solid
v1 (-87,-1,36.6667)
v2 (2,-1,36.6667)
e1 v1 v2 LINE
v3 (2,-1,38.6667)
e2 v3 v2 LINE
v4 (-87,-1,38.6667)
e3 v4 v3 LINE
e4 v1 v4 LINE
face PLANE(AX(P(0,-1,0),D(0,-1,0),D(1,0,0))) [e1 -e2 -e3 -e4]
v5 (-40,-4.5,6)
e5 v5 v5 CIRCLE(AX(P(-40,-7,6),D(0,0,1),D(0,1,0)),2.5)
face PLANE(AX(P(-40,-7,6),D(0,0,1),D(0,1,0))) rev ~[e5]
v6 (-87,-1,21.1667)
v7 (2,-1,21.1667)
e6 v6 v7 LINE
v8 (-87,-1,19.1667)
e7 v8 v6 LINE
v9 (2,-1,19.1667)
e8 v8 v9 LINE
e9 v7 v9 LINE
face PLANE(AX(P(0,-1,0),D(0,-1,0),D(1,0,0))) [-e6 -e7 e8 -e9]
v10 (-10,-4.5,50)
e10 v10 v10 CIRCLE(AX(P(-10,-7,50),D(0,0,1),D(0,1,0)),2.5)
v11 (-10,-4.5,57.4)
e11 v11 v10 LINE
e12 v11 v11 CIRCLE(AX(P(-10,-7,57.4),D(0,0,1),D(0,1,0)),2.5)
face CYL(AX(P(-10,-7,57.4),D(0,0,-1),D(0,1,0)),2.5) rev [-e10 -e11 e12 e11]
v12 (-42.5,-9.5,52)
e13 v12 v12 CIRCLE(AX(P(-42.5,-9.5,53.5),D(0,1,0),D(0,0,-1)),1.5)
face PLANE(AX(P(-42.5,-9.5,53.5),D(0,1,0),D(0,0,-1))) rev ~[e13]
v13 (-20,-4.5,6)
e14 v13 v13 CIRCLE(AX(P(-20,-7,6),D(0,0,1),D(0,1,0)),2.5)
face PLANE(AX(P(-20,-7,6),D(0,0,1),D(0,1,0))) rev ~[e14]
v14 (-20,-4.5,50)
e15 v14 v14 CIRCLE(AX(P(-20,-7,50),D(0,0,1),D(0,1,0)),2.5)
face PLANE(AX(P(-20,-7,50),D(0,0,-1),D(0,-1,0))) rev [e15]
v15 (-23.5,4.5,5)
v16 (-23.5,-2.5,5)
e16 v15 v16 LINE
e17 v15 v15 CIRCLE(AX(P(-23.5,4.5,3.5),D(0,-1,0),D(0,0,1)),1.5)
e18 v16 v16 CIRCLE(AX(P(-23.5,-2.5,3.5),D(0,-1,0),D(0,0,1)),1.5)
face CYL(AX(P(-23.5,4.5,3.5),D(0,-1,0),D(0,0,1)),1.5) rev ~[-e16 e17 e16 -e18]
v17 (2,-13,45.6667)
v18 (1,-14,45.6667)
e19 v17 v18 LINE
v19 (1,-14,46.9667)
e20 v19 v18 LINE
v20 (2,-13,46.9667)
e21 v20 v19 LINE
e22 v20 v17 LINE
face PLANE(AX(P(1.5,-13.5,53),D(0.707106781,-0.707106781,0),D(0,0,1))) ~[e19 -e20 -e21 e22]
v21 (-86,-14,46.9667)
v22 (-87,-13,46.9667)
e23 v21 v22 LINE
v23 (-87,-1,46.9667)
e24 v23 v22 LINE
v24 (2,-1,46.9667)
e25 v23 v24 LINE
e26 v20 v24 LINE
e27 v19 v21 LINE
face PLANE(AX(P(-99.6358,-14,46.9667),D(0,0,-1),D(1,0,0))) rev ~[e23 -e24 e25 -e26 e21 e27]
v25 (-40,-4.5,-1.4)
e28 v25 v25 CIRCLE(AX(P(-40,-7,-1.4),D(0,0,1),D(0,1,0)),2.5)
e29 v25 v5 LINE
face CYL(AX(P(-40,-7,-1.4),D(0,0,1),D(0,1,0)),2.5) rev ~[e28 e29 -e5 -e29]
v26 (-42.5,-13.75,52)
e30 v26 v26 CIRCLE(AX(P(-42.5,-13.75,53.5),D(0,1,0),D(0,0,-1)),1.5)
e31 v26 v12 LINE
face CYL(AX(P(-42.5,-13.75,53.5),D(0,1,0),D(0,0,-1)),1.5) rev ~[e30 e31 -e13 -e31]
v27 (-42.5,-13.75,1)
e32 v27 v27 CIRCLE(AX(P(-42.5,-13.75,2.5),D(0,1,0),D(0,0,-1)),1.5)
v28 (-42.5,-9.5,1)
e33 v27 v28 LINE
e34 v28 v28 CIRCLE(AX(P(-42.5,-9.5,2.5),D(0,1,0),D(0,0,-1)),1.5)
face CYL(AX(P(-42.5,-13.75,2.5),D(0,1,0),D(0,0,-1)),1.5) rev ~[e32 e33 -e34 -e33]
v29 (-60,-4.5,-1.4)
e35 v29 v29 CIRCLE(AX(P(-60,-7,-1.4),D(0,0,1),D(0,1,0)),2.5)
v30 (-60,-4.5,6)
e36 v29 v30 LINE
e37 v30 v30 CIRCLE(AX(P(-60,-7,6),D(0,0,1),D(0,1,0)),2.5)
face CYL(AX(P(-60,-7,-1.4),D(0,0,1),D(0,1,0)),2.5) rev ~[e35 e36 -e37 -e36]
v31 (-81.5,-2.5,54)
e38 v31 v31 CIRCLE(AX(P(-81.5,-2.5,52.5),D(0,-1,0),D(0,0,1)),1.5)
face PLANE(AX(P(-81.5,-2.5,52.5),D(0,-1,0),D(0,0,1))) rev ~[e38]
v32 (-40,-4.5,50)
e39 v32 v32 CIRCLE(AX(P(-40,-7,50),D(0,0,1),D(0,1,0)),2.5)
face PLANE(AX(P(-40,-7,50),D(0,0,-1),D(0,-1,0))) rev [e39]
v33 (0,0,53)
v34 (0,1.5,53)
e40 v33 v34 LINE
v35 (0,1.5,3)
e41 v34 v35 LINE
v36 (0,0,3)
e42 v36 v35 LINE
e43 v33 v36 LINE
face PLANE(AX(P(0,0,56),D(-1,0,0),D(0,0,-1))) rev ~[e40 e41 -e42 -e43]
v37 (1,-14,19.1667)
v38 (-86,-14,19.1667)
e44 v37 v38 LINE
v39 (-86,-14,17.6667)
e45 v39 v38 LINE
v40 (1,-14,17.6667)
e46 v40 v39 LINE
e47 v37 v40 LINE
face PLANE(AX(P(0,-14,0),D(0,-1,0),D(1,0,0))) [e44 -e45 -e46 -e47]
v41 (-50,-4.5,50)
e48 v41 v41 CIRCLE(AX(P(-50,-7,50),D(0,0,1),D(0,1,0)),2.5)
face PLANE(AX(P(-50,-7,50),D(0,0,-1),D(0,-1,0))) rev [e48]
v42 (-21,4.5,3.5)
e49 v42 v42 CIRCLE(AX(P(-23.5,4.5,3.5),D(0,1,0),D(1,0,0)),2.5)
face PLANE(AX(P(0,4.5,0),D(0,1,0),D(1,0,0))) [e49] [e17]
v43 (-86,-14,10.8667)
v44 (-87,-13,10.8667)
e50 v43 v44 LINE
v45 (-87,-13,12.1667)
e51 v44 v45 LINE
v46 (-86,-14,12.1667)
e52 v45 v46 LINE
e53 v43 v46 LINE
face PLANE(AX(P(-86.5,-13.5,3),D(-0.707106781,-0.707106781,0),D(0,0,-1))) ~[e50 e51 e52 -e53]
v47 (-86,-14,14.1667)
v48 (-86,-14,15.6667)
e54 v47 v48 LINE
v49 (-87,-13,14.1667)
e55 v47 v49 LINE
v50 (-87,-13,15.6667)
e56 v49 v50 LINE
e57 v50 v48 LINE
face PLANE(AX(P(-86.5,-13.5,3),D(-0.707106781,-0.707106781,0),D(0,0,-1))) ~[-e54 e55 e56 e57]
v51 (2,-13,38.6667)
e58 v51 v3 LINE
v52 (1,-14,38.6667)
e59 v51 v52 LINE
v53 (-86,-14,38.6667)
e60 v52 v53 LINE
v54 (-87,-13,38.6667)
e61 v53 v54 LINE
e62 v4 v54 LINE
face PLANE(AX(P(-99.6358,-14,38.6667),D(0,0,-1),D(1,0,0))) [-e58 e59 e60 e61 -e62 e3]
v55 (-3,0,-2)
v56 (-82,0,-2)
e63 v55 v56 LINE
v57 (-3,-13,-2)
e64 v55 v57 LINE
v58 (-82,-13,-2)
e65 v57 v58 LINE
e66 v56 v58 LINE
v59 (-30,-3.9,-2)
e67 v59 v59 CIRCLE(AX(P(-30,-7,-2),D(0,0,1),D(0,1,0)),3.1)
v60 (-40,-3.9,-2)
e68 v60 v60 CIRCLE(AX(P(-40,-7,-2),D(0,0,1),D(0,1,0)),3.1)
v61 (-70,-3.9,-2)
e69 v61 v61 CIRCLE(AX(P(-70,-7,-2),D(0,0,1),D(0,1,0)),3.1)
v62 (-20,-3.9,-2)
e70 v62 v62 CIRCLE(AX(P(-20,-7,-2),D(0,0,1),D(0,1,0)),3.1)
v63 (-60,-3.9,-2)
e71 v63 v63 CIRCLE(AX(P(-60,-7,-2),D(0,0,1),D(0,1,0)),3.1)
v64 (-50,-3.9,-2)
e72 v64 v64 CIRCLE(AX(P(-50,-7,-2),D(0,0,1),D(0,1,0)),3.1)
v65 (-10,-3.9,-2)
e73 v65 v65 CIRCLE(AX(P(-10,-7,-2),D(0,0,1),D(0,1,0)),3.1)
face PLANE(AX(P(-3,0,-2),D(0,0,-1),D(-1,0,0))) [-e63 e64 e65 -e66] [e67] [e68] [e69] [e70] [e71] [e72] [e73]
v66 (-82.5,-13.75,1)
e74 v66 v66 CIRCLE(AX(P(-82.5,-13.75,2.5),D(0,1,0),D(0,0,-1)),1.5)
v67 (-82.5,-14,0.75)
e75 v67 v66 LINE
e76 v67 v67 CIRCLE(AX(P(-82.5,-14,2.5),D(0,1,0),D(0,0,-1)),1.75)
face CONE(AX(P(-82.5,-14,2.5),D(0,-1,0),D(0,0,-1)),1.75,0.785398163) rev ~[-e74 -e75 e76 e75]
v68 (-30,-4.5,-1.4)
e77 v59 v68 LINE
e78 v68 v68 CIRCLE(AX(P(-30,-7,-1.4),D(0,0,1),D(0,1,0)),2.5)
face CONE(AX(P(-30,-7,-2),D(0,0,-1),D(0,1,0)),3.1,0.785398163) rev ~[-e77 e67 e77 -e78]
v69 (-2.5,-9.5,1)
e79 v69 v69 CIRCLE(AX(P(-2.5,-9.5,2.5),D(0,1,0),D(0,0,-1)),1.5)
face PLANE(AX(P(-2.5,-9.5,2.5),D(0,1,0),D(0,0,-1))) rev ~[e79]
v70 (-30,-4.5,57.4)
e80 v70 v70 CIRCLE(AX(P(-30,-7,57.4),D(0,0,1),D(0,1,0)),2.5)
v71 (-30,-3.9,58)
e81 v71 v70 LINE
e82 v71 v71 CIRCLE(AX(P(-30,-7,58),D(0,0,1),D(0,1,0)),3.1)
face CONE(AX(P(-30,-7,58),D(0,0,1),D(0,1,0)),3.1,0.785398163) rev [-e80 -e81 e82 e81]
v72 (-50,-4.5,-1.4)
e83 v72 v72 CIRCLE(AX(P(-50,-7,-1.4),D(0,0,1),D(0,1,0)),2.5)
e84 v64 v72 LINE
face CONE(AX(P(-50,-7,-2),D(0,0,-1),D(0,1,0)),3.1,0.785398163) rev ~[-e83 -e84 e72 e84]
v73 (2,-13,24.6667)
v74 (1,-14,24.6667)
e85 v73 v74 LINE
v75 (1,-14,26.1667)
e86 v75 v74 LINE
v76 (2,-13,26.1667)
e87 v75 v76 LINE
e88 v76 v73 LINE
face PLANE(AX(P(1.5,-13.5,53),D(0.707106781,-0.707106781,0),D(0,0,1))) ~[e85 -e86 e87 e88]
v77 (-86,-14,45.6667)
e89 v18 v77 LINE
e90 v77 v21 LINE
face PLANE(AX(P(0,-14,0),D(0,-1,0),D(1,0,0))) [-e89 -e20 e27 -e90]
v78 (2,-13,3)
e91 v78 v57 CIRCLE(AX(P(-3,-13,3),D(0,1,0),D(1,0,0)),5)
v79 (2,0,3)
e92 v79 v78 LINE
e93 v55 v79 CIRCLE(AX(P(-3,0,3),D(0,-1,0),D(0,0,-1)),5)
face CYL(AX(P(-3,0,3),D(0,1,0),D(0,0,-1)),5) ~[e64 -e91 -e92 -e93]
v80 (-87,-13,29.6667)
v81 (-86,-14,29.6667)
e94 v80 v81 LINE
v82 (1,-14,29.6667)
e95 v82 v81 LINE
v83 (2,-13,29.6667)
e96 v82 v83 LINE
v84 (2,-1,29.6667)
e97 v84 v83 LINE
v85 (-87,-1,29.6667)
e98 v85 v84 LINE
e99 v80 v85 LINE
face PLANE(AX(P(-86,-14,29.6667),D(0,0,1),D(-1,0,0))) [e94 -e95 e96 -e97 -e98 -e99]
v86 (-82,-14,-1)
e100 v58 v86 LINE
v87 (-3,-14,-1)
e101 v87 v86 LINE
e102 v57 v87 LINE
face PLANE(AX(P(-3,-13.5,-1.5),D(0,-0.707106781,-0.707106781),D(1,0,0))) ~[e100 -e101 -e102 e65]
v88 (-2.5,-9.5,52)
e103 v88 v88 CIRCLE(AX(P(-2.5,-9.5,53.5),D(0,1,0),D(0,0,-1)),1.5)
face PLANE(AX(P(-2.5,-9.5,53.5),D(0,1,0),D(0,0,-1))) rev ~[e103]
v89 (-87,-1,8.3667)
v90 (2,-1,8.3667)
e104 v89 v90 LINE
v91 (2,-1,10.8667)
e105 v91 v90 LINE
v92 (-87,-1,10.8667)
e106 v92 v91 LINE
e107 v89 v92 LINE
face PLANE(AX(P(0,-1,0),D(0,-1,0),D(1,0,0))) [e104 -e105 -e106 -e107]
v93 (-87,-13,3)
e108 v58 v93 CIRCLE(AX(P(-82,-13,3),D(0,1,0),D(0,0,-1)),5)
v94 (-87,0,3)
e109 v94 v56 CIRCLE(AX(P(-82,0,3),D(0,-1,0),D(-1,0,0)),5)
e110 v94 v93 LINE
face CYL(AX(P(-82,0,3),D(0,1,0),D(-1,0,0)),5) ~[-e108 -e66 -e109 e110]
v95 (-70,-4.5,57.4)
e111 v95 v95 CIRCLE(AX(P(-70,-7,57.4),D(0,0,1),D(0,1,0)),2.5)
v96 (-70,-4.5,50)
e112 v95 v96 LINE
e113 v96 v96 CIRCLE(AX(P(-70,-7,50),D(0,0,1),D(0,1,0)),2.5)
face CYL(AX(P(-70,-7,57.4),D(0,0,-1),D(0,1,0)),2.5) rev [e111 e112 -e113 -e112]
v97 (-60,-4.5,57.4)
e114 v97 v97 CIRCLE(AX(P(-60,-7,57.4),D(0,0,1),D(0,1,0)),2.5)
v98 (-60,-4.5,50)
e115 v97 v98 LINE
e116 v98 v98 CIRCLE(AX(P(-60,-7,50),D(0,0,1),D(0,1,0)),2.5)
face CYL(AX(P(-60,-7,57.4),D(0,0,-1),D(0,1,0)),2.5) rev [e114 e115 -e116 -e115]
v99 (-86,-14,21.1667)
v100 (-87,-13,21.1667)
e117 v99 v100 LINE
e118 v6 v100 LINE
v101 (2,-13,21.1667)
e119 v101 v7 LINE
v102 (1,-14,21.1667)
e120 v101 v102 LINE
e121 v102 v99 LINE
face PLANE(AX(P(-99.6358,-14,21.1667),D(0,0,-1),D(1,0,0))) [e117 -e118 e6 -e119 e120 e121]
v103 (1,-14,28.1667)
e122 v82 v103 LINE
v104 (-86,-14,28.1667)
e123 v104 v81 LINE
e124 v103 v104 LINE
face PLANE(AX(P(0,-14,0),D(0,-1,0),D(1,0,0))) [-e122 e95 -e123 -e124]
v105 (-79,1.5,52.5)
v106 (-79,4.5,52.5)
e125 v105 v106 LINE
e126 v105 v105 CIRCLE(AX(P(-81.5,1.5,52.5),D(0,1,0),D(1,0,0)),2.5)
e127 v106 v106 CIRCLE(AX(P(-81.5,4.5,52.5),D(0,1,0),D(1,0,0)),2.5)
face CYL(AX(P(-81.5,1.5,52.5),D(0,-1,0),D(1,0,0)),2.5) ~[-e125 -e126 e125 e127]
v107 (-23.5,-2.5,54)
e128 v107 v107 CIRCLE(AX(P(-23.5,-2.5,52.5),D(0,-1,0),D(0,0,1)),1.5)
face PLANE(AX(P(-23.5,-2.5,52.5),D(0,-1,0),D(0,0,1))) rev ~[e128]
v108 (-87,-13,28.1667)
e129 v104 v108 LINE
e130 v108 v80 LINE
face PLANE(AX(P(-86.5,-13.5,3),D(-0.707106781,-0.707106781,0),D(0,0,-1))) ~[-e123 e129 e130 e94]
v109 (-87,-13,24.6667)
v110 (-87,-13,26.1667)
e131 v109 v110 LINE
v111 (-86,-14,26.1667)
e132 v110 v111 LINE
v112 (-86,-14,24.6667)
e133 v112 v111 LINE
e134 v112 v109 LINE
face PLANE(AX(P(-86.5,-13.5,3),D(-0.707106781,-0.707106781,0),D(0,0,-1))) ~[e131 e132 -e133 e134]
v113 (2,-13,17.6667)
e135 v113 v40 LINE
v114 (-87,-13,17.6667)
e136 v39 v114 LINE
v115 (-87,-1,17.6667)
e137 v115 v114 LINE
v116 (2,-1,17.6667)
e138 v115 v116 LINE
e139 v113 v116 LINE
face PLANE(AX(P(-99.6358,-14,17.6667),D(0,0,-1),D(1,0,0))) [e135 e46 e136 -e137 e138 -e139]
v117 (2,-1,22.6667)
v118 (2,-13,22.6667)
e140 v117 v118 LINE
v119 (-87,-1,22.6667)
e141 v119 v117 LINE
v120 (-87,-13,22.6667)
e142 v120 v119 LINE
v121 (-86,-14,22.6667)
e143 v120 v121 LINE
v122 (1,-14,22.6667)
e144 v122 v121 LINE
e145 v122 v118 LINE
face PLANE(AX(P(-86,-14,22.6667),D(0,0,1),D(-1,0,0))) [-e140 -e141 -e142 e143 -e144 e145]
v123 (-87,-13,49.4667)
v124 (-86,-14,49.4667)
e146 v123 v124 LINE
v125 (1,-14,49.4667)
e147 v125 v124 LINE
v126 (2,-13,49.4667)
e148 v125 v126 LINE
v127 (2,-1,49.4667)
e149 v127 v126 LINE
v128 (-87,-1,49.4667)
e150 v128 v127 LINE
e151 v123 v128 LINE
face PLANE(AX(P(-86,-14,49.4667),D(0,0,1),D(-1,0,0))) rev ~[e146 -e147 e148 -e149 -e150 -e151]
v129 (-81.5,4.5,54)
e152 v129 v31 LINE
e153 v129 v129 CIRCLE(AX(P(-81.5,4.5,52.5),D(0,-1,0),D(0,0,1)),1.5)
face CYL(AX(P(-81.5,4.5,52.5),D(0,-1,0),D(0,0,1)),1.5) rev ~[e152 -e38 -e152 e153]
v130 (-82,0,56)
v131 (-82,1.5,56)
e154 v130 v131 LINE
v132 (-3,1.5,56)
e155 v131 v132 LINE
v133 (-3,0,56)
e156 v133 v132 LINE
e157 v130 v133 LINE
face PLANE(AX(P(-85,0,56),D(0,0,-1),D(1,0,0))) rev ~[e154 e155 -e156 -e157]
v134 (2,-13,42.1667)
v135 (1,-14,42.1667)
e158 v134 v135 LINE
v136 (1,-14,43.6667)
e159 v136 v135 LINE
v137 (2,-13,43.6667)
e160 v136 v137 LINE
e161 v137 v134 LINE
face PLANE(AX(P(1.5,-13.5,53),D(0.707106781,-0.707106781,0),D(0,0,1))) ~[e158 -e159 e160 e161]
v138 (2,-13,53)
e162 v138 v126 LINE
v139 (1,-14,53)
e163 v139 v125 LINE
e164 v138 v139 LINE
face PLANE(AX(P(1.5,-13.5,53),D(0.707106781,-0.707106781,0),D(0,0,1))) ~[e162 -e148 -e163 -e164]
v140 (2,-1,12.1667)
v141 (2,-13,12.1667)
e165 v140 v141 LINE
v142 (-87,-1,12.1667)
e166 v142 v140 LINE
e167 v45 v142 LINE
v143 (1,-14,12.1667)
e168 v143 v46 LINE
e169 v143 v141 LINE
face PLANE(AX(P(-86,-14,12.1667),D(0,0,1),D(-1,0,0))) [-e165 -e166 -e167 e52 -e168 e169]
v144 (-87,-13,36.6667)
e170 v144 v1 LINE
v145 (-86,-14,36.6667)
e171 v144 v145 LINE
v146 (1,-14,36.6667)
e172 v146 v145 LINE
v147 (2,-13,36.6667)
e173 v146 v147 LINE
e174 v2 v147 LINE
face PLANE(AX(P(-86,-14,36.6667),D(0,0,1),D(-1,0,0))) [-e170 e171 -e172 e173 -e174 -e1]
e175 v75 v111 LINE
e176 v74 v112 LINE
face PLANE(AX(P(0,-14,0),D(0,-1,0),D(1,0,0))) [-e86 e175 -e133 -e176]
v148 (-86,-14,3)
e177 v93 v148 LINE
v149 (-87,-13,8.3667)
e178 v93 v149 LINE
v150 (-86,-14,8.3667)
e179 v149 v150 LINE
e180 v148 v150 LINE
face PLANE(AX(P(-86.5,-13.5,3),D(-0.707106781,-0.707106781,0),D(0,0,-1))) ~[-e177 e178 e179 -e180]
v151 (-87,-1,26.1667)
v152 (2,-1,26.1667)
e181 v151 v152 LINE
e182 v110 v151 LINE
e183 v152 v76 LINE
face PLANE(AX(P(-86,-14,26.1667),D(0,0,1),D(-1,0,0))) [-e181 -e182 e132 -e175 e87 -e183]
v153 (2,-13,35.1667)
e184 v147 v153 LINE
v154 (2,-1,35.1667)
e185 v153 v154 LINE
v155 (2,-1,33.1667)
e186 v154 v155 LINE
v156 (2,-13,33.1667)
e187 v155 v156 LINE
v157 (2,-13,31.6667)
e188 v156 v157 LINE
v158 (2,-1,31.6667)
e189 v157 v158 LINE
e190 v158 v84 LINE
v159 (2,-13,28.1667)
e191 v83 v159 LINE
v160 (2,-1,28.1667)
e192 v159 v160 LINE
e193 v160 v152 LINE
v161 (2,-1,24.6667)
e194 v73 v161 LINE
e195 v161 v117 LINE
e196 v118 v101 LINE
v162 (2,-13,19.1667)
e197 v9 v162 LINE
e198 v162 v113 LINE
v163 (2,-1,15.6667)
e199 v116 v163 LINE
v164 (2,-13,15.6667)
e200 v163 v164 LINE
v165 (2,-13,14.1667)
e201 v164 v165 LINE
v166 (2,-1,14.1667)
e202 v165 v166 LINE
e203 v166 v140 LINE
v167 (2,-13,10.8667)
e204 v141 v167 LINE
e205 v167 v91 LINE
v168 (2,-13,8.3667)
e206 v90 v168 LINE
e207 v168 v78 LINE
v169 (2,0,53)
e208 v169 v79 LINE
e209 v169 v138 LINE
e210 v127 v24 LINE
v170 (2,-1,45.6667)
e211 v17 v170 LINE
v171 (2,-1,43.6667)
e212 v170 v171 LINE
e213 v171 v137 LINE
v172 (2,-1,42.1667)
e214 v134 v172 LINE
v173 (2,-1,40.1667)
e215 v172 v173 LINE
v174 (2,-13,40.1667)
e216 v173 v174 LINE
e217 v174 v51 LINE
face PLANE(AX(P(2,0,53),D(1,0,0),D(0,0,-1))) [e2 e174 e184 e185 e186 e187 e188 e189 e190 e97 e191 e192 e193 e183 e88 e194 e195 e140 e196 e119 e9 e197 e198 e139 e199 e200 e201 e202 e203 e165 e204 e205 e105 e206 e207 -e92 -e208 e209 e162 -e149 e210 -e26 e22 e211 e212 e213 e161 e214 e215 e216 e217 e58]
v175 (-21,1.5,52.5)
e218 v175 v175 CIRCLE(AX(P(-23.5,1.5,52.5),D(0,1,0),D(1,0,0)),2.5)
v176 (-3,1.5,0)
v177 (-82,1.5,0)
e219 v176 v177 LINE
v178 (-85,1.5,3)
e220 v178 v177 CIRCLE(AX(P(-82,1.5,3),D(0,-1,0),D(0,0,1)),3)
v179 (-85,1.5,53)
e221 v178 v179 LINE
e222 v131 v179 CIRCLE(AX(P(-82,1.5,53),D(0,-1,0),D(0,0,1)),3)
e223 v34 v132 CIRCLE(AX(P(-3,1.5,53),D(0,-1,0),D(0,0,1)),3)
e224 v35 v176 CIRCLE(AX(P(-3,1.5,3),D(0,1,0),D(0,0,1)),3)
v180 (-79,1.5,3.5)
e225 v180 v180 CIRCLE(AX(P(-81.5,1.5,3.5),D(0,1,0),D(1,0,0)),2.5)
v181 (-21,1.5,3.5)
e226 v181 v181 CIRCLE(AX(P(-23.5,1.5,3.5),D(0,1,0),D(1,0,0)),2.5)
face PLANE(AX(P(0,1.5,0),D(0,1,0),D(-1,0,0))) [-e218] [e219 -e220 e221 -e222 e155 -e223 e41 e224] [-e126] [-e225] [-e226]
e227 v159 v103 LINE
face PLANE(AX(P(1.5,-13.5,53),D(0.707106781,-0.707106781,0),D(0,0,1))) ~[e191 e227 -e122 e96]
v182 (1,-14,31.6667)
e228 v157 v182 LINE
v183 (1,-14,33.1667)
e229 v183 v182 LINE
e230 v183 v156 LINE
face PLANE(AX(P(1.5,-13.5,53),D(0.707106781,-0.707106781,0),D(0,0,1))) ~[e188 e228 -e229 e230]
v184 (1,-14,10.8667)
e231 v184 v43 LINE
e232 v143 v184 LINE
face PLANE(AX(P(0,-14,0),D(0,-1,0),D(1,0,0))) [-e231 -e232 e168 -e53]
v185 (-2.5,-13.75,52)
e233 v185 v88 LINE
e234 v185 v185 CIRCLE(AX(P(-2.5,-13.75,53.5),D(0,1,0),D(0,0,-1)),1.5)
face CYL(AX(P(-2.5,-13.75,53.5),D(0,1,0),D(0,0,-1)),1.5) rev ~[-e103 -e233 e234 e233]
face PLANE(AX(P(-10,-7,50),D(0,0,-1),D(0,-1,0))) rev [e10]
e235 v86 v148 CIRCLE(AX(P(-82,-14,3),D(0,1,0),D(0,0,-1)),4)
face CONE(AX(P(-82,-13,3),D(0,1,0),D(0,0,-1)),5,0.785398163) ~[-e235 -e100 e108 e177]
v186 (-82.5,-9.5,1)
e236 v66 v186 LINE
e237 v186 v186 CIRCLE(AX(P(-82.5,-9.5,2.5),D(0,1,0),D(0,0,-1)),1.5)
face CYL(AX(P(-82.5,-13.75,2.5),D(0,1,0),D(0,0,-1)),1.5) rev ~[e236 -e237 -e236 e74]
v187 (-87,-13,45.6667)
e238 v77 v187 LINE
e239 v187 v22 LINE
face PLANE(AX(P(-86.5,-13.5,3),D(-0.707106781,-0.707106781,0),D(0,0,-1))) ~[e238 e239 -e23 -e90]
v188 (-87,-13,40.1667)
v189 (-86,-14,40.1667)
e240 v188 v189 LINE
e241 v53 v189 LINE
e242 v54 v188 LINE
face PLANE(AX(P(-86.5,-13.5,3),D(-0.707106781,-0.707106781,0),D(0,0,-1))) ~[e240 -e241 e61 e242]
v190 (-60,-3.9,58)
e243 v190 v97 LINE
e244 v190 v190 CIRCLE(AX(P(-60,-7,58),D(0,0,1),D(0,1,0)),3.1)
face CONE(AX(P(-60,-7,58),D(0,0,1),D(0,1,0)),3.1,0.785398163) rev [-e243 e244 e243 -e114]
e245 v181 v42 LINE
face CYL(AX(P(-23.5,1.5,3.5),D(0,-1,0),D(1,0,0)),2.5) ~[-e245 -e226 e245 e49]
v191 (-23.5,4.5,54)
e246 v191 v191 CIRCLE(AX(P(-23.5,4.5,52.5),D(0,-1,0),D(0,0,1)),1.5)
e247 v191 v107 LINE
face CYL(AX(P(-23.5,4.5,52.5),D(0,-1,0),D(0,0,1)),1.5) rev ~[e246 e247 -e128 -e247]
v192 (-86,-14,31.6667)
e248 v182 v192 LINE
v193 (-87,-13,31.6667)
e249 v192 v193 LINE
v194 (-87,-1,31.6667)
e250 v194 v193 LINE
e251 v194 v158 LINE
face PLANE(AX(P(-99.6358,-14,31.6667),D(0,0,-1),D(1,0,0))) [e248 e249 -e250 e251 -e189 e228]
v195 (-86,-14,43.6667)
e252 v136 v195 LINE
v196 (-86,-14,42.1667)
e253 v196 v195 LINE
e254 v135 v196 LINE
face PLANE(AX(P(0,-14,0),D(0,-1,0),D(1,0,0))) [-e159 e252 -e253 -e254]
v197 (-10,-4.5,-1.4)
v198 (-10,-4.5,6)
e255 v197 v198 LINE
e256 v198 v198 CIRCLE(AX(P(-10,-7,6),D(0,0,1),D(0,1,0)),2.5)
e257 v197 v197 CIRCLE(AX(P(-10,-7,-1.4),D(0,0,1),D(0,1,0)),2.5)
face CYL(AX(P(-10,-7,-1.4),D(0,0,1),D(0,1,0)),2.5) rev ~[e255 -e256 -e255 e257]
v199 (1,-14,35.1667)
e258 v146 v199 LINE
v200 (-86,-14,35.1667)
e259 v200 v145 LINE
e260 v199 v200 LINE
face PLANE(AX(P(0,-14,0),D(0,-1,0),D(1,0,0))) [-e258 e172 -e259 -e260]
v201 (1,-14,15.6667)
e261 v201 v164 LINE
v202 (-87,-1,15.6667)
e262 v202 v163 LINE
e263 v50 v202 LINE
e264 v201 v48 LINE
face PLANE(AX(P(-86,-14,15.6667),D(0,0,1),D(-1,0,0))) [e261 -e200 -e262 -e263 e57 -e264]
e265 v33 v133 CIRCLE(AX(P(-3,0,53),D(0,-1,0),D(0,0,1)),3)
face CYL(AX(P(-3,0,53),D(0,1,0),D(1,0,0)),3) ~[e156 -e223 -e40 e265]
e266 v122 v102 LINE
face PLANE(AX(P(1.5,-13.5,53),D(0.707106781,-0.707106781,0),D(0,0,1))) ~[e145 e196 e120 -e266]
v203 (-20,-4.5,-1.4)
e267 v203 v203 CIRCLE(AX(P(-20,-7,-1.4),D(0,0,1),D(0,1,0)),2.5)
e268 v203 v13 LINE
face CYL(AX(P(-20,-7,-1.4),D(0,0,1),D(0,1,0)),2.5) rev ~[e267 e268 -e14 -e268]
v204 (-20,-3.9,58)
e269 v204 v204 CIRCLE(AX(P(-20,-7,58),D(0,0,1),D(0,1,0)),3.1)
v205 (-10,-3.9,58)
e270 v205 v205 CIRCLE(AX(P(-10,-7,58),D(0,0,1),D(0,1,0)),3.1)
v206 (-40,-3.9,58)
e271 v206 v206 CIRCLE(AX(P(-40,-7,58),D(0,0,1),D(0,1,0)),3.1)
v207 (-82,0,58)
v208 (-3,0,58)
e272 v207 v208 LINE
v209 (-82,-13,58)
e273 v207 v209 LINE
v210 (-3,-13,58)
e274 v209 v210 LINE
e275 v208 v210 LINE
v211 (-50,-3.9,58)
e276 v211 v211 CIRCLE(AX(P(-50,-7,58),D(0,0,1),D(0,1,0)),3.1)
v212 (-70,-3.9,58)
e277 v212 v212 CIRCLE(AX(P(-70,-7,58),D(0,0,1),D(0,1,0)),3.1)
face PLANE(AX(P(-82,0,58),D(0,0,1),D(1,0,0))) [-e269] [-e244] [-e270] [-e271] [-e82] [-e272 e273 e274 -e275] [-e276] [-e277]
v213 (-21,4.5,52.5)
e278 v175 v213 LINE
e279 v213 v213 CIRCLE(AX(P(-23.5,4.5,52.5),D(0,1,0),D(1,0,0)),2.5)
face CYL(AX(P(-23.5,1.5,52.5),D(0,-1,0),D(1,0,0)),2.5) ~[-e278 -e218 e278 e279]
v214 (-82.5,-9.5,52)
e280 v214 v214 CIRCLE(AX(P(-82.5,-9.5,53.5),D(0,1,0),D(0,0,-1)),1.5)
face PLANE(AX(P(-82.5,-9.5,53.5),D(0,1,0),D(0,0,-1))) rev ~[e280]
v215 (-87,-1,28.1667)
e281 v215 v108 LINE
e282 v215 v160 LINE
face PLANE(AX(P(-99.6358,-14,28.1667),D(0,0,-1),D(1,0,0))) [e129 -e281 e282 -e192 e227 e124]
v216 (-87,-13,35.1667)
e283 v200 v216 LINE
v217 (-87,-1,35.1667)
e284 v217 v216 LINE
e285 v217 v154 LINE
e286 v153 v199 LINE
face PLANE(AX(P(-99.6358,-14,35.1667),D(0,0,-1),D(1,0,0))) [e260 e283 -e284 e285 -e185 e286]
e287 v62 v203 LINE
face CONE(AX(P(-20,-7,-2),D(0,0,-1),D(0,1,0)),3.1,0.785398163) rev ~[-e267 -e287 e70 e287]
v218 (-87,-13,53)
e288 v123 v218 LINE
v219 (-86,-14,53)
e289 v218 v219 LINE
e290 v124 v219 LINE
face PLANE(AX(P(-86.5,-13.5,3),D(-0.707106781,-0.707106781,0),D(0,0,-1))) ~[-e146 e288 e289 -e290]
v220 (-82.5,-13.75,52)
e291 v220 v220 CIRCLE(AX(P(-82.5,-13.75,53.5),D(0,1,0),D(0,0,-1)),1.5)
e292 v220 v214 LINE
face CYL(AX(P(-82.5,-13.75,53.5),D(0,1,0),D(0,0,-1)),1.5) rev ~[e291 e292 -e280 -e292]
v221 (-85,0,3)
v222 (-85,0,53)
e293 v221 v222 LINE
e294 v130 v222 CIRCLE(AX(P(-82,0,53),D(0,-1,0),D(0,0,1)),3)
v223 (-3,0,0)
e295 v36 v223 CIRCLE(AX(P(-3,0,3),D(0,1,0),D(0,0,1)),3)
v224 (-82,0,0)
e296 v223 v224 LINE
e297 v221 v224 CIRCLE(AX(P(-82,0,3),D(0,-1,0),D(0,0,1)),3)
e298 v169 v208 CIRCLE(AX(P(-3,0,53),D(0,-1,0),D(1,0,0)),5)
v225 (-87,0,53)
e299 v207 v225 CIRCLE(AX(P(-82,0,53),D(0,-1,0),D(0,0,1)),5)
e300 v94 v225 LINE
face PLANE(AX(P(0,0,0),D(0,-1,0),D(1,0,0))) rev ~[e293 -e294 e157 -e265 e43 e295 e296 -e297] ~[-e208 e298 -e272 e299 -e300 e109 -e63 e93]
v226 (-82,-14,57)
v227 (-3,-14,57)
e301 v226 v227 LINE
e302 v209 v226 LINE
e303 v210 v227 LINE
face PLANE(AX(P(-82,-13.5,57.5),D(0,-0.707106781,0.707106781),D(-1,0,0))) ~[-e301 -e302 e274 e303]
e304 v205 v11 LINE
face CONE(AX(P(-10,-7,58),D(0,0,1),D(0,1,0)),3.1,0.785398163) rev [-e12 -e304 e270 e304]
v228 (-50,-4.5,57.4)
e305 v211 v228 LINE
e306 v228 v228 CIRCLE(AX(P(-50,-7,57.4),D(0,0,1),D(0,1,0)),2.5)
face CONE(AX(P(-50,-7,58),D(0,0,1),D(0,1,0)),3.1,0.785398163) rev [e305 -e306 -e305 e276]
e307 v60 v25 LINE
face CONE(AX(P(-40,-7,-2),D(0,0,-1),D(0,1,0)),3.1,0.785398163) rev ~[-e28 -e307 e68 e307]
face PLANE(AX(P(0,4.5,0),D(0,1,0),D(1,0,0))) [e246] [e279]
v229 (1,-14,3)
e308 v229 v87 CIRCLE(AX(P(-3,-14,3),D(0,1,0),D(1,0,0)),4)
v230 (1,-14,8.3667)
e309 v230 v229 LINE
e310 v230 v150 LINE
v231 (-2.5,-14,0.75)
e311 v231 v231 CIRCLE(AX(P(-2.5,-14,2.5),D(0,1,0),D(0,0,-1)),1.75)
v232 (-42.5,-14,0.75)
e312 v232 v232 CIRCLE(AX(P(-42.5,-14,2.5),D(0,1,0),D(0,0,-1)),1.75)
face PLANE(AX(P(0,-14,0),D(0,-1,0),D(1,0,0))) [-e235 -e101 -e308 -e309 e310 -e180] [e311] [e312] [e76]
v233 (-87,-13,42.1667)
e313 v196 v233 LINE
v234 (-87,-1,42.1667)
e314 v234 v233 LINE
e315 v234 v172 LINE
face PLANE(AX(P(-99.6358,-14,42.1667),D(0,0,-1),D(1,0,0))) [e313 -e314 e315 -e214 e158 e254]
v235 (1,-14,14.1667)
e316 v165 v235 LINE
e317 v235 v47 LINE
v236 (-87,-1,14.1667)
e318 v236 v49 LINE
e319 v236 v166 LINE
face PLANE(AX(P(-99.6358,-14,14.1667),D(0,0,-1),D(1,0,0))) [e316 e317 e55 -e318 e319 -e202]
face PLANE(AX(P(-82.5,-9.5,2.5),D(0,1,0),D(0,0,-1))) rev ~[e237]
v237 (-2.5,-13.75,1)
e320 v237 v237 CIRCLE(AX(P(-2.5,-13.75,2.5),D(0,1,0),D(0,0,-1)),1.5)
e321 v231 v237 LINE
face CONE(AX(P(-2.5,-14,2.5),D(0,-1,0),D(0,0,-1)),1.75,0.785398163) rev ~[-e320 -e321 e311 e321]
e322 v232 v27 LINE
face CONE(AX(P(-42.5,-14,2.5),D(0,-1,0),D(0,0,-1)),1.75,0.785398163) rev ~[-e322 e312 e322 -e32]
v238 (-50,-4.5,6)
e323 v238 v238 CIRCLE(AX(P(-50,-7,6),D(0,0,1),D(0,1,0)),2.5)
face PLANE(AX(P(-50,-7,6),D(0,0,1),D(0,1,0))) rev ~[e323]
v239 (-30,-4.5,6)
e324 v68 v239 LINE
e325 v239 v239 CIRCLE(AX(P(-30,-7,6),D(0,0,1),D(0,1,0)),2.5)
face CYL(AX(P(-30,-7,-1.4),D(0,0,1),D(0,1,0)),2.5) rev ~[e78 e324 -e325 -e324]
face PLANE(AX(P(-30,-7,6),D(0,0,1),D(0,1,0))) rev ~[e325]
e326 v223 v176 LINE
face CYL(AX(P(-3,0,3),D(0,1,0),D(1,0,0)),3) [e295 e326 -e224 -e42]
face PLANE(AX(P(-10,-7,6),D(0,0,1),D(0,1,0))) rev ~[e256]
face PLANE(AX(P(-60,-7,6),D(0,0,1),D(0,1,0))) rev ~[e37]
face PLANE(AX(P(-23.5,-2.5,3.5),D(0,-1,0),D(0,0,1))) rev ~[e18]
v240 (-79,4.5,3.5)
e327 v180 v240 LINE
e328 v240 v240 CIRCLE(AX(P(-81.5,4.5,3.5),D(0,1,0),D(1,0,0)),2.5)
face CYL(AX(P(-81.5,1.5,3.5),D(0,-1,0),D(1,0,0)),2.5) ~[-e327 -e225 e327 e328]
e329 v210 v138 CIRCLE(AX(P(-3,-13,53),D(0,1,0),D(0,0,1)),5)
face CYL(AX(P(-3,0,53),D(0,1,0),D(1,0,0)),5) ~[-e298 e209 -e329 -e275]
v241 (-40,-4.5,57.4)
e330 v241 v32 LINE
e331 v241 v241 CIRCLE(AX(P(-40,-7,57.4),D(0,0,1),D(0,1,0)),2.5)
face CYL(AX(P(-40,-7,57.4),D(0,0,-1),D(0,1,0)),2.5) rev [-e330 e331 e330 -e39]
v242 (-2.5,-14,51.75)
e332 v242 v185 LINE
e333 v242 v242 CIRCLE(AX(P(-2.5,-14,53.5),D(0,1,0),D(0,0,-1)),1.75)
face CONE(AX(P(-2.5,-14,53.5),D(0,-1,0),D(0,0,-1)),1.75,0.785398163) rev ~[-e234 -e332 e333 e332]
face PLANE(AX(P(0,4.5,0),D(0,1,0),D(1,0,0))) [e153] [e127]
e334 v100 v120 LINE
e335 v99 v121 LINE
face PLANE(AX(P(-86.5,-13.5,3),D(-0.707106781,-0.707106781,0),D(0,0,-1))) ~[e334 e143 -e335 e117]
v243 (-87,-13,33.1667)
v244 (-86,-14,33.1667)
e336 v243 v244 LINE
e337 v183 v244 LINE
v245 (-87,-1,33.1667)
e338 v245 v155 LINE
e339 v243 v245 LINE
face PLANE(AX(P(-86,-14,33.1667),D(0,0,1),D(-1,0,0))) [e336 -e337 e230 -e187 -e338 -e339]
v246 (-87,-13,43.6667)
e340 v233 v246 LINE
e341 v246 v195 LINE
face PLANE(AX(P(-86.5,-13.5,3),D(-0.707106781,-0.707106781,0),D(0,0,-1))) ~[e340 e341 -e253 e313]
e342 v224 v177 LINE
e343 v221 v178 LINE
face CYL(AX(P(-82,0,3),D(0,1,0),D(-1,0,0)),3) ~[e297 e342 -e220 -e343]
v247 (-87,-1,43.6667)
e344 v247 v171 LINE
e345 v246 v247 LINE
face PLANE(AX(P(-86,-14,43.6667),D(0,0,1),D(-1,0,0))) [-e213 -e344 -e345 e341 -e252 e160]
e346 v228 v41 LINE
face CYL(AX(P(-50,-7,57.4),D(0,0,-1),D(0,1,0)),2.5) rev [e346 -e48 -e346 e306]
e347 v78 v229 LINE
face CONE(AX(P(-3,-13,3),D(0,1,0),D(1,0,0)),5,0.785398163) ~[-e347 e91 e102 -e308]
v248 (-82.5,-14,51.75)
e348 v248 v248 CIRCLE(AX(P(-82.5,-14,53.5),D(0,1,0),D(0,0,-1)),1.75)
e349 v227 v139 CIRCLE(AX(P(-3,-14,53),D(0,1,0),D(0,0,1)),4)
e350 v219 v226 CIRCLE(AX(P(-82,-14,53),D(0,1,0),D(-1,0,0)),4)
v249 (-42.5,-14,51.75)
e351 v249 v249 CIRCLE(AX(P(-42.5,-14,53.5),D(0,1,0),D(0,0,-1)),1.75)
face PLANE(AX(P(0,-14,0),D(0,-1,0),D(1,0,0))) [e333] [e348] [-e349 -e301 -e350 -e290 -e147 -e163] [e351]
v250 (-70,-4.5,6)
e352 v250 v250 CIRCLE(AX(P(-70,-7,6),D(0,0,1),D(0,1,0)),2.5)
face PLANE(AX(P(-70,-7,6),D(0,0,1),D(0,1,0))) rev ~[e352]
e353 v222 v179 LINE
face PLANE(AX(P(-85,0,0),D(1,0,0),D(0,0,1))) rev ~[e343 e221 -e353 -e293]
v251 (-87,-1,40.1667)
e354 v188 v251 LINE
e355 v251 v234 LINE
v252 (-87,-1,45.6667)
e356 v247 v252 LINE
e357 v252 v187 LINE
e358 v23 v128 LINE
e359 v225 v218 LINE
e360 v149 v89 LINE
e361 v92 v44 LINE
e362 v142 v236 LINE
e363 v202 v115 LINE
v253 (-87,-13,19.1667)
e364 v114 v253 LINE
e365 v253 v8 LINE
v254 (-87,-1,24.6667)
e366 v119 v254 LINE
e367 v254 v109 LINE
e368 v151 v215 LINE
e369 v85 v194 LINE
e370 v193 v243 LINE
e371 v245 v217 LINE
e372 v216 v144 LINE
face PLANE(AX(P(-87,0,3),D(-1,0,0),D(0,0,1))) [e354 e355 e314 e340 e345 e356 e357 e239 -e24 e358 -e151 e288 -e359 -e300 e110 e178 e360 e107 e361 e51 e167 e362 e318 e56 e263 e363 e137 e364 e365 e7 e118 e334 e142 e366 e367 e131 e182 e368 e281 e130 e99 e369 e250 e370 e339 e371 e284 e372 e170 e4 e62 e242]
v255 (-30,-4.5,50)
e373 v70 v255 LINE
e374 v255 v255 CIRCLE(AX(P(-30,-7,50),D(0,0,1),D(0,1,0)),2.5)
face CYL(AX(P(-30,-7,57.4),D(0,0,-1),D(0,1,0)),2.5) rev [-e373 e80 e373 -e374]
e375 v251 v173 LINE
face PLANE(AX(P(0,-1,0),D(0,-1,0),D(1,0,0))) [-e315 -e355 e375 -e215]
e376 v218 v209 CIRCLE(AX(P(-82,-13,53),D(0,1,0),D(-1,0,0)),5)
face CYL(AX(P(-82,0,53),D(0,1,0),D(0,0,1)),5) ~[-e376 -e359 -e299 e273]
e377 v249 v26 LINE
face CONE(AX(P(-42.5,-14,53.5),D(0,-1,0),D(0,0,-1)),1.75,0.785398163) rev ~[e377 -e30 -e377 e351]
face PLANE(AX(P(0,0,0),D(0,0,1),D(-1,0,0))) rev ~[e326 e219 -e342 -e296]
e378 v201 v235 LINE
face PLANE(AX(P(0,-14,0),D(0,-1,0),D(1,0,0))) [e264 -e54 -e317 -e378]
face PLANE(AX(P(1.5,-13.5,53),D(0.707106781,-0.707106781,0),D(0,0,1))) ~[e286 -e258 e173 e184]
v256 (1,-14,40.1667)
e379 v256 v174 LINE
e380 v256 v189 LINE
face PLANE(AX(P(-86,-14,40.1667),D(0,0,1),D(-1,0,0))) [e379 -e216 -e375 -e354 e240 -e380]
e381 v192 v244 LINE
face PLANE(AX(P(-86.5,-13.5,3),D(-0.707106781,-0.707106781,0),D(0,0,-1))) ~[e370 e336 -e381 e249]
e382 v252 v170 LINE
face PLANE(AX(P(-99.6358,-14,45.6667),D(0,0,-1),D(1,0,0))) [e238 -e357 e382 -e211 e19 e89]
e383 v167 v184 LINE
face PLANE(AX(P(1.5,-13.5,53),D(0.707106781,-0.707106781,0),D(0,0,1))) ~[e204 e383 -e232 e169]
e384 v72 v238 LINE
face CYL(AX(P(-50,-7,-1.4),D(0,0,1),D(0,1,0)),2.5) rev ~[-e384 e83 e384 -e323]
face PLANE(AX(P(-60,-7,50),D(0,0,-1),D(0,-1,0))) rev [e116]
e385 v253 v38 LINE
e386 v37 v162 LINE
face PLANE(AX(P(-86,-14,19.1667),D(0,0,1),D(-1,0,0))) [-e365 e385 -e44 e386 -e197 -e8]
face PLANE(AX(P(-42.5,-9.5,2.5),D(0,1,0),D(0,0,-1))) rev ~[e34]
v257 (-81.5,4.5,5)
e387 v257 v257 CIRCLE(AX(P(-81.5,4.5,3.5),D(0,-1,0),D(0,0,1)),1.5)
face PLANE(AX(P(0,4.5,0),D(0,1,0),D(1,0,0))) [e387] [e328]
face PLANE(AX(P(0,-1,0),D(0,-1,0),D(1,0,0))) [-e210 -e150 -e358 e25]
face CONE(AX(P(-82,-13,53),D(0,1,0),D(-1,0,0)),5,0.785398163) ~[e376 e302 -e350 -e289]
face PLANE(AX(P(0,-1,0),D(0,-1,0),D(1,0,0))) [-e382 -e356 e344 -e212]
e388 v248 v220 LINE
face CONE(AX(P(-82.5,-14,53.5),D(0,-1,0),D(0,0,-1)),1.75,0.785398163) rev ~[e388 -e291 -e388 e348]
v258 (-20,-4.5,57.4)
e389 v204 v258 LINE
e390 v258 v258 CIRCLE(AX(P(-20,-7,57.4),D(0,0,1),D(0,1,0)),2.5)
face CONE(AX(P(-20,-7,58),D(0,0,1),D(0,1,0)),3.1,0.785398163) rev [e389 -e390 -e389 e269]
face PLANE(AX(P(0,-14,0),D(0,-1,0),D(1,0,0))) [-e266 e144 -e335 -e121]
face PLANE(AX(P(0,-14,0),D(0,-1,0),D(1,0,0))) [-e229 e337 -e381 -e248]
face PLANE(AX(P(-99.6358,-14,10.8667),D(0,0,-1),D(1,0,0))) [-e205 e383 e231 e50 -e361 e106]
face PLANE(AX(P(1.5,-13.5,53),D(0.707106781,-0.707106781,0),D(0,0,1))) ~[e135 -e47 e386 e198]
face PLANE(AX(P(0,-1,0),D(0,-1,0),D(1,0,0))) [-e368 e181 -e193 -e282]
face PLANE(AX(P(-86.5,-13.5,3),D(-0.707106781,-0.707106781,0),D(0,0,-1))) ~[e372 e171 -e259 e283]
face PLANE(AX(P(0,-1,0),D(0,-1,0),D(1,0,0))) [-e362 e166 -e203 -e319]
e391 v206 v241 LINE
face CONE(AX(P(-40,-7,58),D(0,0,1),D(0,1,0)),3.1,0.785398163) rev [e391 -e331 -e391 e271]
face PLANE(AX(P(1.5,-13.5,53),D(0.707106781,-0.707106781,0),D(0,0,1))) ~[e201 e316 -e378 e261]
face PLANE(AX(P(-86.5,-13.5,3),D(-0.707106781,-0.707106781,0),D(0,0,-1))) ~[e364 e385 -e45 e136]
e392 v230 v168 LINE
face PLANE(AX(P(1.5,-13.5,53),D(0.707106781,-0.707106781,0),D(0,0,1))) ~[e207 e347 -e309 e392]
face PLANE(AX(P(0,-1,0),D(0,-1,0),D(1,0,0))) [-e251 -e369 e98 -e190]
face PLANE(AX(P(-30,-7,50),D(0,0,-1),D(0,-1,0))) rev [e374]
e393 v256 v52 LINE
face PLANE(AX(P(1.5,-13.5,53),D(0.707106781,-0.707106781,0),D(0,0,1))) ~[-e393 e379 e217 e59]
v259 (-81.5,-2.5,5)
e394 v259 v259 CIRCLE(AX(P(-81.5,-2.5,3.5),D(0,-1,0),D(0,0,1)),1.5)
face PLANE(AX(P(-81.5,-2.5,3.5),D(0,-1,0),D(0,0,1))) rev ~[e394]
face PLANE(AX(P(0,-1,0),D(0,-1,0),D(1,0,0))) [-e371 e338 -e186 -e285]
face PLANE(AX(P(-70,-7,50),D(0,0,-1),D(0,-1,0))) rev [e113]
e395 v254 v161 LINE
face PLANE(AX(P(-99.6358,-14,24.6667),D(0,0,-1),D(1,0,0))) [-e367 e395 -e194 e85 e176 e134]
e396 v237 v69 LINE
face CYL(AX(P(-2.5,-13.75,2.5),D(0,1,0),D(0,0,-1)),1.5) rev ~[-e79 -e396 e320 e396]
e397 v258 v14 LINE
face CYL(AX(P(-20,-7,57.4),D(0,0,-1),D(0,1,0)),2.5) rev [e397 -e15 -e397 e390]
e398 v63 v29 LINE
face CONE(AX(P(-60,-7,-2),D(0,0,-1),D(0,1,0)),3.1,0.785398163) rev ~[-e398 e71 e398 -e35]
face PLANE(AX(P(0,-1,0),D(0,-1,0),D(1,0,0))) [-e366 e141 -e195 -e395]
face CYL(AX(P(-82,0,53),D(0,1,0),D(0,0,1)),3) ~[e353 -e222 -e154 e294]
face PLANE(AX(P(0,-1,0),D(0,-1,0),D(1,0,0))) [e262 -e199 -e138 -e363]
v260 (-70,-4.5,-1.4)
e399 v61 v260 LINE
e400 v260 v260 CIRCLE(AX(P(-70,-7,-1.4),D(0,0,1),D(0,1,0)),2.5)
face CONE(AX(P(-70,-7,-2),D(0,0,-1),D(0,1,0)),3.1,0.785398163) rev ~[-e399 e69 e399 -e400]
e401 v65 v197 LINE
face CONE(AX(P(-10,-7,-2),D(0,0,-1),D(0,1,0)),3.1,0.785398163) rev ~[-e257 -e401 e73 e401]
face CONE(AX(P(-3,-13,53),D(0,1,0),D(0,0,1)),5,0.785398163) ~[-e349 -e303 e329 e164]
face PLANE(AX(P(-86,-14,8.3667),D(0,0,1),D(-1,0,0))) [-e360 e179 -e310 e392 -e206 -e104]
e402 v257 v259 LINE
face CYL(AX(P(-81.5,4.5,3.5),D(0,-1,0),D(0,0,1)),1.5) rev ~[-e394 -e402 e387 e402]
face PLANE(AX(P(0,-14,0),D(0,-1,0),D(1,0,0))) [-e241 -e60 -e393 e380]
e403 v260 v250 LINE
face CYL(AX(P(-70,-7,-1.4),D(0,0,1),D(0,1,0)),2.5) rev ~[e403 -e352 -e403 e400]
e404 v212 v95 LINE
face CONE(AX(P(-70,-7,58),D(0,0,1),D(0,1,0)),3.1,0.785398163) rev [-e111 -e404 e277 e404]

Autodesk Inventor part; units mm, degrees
ref_plane "YZ Plane" through (0, 0, 0) normal (1, 0, 0) x (0, 1, 0)
ref_plane "XZ Plane" through (0, 0, 0) normal (0, 1, 0) x (-1, 0, 0)
sketch "Sketch1" plane through (0, 0, 0) normal (0, 1, 0) x (-1, 0, 0)
  line L0 (0, 0) -> (85, 0)
  line L1 (85, 0) -> (85, 56)
  line L2 (85, 56) -> (0, 56)
  line L3 (0, 56) -> (0, 0)
  dimension "d0" = 85
  dimension "d2" = 56
extrude "Extrusion1" add sketch "Sketch1" along normal blind 1.5
fillet "Fillet1" radius 3 4 edges at (0, 0.75, 56) (0, 0.75, 0) (-85, 0.75, 0) (-85, 0.75, 56)
sketch "Sketch2" plane through (0, 0, 0) normal (0, -1, 0) x (1, 0, 0)
  arc A0 (-82, 56) -> (-85, 53) centre (-82, 53) ccw projected
  line L0 (-85, 3) -> (-85, 53) projected
  arc A1 (-85, 3) -> (-82, 0) centre (-82, 3) ccw projected
  line L1 (-3, 0) -> (-82, 0) projected
  arc A2 (-3, 0) -> (0, 3) centre (-3, 3) ccw projected
  line L2 (0, 53) -> (0, 3) projected
  arc A3 (0, 53) -> (-3, 56) centre (-3, 53) ccw projected
  line L3 (-82, 56) -> (-3, 56) projected
  arc A4 (2, 53) -> (-3, 58) centre (-3, 53) ccw
  line L4 (2, 53) -> (2, 3)
  arc A5 (-3, -2) -> (2, 3) centre (-3, 3) ccw
  line L5 (-3, -2) -> (-82, -2)
  arc A6 (-87, 3) -> (-82, -2) centre (-82, 3) ccw
  line L6 (-87, 3) -> (-87, 53)
  arc A7 (-82, 58) -> (-87, 53) centre (-82, 53) ccw
  line L7 (-82, 58) -> (-3, 58)
  point P0 (0, 0)
  dimension "d6" = 2
extrude "Extrusion2" add sketch "Sketch2" along normal blind 14 contours L3 A3 L2 A2 L1 A1 L0 A0 | L4 A5 L5 A6 L6 A7 L7 A4
sketch "Sketch3" plane through (0, 1.5, 0) normal (0, 1, 0) x (1, 0, 0)
  line L0 (-82, -56) -> (-3, -56) projected
  line L1 (-3, 0) -> (-82, 0) projected
  line L2 (-85, -3) -> (-85, -53) projected
  circle A0 centre (-81.5, -3.5) radius 2.5
  circle A1 centre (-23.5, -3.5) radius 2.5
  circle A2 centre (-81.5, -52.5) radius 2.5
  circle A3 centre (-23.5, -52.5) radius 2.5
  point P0 (0, 0)
  dimension "d9" = 5
  dimension "d10" = 3.5
  dimension "d11" = 3.5
  dimension "d12" = 5
  dimension "d13" = 3.5
  dimension "d14" = 58
  dimension "d15" = 5
  dimension "d16" = 3.5
  dimension "d17" = 3.5
  dimension "d18" = 5
  dimension "d19" = 58
  dimension "d20" = 3.5
  dimension "d77" = 49
extrude "Extrusion3" add sketch "Sketch3" along normal blind 3
sketch "Sketch4" plane through (-81.5, 4.5, 52.5) normal (0, 1, 0) x (1, 0, 0)
  circle A0 centre (0, 0) radius 2.5 projected
  circle A1 centre (0, 49) radius 2.5 projected
  circle A2 centre (58, 49) radius 2.5 projected
  circle A3 centre (58, 0) radius 2.5 projected
  point P0 (81.5, 52.5)
hole "Hole1" at (-81.5, 4.5, 3.5) at (-23.5, 4.5, 3.5) at (-23.5, 4.5, 52.5) at (-81.5, 4.5, 52.5) direction (0, -1, 0) diameter 3 depth 7
chamfer "Chamfer1" distance 1 angle 45 8 edges at (-42.5, -14, -2) (0.5355, -14, -0.5355) (2, -14, 28) (0.5355, -14, 56.5355) (-42.5, -14, 58) (-85.5355, -14, 56.5355) (-87, -14, 28) (-85.5355, -14, -0.5355)
sketch "Sketch5" plane through (0, -14, 0) normal (0, -1, 0) x (1, 0, 0)
  line L0 (-3, -1) -> (-82, -1) projected
  line L1 (-82, 57) -> (-3, 57) projected
  line L2 (1, 53) -> (1, 3) projected
  line L3 (-86, 3) -> (-86, 53) projected
  line L4 (-42.5, 53.5) -> (-42.5, 57)
  line L5 (-42.5, 2.5) -> (-42.5, -1)
  line L6 (-82.5, 53.5) -> (-86, 53.5)
  line L7 (-2.5, 53.5) -> (1, 53.5)
  point P0 (0, 0)
  point P1 (-82.5, 2.5)
  point P2 (-2.5, 2.5)
  dimension "d80" = 40
  dimension "d83" = 51
hole "Hole2" at (-82.5, -14, 53.5) at (-42.5, -14, 53.5) at (-2.5, -14, 53.5) at (-2.5, -14, 2.5) at (-42.5, -14, 2.5) at (-82.5, -14, 2.5) direction (0, 1, 0) diameter 3 depth 4.5 countersink diameter 3.5 countersink angle 90
sketch "Sketch6" plane through (-3, 0, -2) normal (0, 0, -1) x (-1, 0, 0)
  line L0 (0, 0) -> (79, 0) projected
  line L1 (79, 0) -> (79, -13) projected
  line L2 (-5, 0) -> (-5, -13) projected
  line L3 (84, 0) -> (84, -13) projected
  line L4 (7, -7) -> (-5, -7)
  line L5 (67, -7) -> (79, -7)
  point P0 (-3, 0)
  point P1 (57, -7)
  point P2 (47, -7)
  point P3 (37, -7)
  point P4 (27, -7)
  point P5 (17, -7)
  dimension "d42" = 10
hole "Hole3" at (-70, -7, -2) at (-60, -7, -2) at (-50, -7, -2) at (-40, -7, -2) at (-30, -7, -2) at (-20, -7, -2) at (-10, -7, -2) direction (0, 0, 1) diameter 5 depth 8 countersink diameter 6.2 countersink angle 90
ref_plane "Work Plane1" through (-3, 0, 28) normal (0, 0, -1) x (-1, 0, 0)
mirror "Mirror1" about plane through (-3, 0, 28) normal (0, 0, -1) of "Hole3"
sketch "Sketch7" plane through (0, -14, 0) normal (0, -1, 0) x (1, 0, 0)
  line L0 (-3, -1) -> (-82, -1) projected
  line L1 (-82, 57) -> (-3, 57) projected
  line L2 (-86, 3) -> (-86, 53) projected
  line L3 (-99.6358, 45.6667) -> (9.9097, 45.6667)
  line L4 (9.9097, 45.6667) -> (9.9097, 43.6667)
  line L5 (9.9097, 43.6667) -> (-99.6358, 43.6667)
  line L6 (-99.6358, 43.6667) -> (-99.6358, 45.6667)
  line L7 (-99.6358, 42.1667) -> (9.9097, 42.1667)
  line L8 (9.9097, 42.1667) -> (9.9097, 40.1667)
  line L9 (9.9097, 40.1667) -> (-99.6358, 40.1667)
  line L10 (-99.6358, 40.1667) -> (-99.6358, 42.1667)
  line L11 (-99.6358, 38.6667) -> (9.9097, 38.6667)
  line L12 (9.9097, 38.6667) -> (9.9097, 36.6667)
  line L13 (9.9097, 36.6667) -> (-99.6358, 36.6667)
  line L14 (-99.6358, 36.6667) -> (-99.6358, 38.6667)
  line L15 (-99.6358, 35.1667) -> (9.9097, 35.1667)
  line L16 (9.9097, 35.1667) -> (9.9097, 33.1667)
  line L17 (9.9097, 33.1667) -> (-99.6358, 33.1667)
  line L18 (-99.6358, 33.1667) -> (-99.6358, 35.1667)
  line L19 (-99.6358, 31.6667) -> (9.9097, 31.6667)
  line L20 (9.9097, 31.6667) -> (9.9097, 29.6667)
  line L21 (9.9097, 29.6667) -> (-99.6358, 29.6667)
  line L22 (-99.6358, 29.6667) -> (-99.6358, 31.6667)
  line L23 (-99.6358, 28.1667) -> (9.9097, 28.1667)
  line L24 (9.9097, 28.1667) -> (9.9097, 26.1667)
  line L25 (9.9097, 26.1667) -> (-99.6358, 26.1667)
  line L26 (-99.6358, 26.1667) -> (-99.6358, 28.1667)
  line L27 (-99.6358, 24.6667) -> (9.9097, 24.6667)
  line L28 (9.9097, 24.6667) -> (9.9097, 22.6667)
  line L29 (9.9097, 22.6667) -> (-99.6358, 22.6667)
  line L30 (-99.6358, 22.6667) -> (-99.6358, 24.6667)
  line L31 (-99.6358, 21.1667) -> (9.9097, 21.1667)
  line L32 (9.9097, 21.1667) -> (9.9097, 19.1667)
  line L33 (9.9097, 19.1667) -> (-99.6358, 19.1667)
  line L34 (-99.6358, 19.1667) -> (-99.6358, 21.1667)
  line L35 (-99.6358, 17.6667) -> (9.9097, 17.6667)
  line L36 (9.9097, 17.6667) -> (9.9097, 15.6667)
  line L37 (9.9097, 15.6667) -> (-99.6358, 15.6667)
  line L38 (-99.6358, 15.6667) -> (-99.6358, 17.6667)
  line L39 (-99.6358, 14.1667) -> (9.9097, 14.1667)
  line L40 (9.9097, 14.1667) -> (9.9097, 12.1667)
  line L41 (9.9097, 12.1667) -> (-99.6358, 12.1667)
  line L42 (-99.6358, 12.1667) -> (-99.6358, 14.1667)
  line L43 (-63.4683, 45.6667) -> (-63.4683, 57)
  line L44 (-63.4683, -1) -> (-63.4683, 10.3333)
  line L45 (-99.6358, 46.9667) -> (9.9097, 46.9667)
  line L46 (9.9097, 46.9667) -> (9.9097, 49.4667)
  line L47 (9.9097, 49.4667) -> (-99.6358, 49.4667)
  line L48 (-99.6358, 49.4667) -> (-99.6358, 46.9667)
  line L49 (-3, 58) -> (-82, 58) projected
  line L50 (-99.6358, 10.8667) -> (9.9097, 10.8667)
  line L51 (9.9097, 10.8667) -> (9.9097, 8.3667)
  line L52 (9.9097, 8.3667) -> (-99.6358, 8.3667)
  line L53 (-99.6358, 8.3667) -> (-99.6358, 10.8667)
  point P0 (0, 0)
  dimension "d55" = 2
  dimension "d60" = 3.5
  dimension "d72" = 2.5
  dimension "d74" = 1.3
  dimension "d75" = 1.3
  dimension "d76" = 2.5
extrude "Extrusion4" cut sketch "Sketch7" against normal blind 13 contours L52 L53 L50 L2 | L2 L50 L51 L52 | L5 L6 L3 L2 | L2 L3 L4 L5 | L9 L10 L7 L2 | L2 L7 L8 L9 | L13 L14 L11 L2 | L2 L11 L12 L13 | L17 L18 L15 L2 | L2 L15 L16 L17 | L21 L22 L19 L2 | L2 L19 L20 L21 | L25 L26 L23 L2 | L2 L23 L24 L25 | L29 L30 L27 L2 | L2 L27 L28 L29 | L33 L34 L31 L2 | L2 L31 L32 L33 | L37 L38 L35 L2 | L2 L35 L36 L37 | L41 L42 L39 L2 | L2 L39 L40 L41 | L45 L48 L47 L2 | L2 L47 L43 L45 | L43 L47 L46 L45
properties part number "nanopi_m4_heatsink"
